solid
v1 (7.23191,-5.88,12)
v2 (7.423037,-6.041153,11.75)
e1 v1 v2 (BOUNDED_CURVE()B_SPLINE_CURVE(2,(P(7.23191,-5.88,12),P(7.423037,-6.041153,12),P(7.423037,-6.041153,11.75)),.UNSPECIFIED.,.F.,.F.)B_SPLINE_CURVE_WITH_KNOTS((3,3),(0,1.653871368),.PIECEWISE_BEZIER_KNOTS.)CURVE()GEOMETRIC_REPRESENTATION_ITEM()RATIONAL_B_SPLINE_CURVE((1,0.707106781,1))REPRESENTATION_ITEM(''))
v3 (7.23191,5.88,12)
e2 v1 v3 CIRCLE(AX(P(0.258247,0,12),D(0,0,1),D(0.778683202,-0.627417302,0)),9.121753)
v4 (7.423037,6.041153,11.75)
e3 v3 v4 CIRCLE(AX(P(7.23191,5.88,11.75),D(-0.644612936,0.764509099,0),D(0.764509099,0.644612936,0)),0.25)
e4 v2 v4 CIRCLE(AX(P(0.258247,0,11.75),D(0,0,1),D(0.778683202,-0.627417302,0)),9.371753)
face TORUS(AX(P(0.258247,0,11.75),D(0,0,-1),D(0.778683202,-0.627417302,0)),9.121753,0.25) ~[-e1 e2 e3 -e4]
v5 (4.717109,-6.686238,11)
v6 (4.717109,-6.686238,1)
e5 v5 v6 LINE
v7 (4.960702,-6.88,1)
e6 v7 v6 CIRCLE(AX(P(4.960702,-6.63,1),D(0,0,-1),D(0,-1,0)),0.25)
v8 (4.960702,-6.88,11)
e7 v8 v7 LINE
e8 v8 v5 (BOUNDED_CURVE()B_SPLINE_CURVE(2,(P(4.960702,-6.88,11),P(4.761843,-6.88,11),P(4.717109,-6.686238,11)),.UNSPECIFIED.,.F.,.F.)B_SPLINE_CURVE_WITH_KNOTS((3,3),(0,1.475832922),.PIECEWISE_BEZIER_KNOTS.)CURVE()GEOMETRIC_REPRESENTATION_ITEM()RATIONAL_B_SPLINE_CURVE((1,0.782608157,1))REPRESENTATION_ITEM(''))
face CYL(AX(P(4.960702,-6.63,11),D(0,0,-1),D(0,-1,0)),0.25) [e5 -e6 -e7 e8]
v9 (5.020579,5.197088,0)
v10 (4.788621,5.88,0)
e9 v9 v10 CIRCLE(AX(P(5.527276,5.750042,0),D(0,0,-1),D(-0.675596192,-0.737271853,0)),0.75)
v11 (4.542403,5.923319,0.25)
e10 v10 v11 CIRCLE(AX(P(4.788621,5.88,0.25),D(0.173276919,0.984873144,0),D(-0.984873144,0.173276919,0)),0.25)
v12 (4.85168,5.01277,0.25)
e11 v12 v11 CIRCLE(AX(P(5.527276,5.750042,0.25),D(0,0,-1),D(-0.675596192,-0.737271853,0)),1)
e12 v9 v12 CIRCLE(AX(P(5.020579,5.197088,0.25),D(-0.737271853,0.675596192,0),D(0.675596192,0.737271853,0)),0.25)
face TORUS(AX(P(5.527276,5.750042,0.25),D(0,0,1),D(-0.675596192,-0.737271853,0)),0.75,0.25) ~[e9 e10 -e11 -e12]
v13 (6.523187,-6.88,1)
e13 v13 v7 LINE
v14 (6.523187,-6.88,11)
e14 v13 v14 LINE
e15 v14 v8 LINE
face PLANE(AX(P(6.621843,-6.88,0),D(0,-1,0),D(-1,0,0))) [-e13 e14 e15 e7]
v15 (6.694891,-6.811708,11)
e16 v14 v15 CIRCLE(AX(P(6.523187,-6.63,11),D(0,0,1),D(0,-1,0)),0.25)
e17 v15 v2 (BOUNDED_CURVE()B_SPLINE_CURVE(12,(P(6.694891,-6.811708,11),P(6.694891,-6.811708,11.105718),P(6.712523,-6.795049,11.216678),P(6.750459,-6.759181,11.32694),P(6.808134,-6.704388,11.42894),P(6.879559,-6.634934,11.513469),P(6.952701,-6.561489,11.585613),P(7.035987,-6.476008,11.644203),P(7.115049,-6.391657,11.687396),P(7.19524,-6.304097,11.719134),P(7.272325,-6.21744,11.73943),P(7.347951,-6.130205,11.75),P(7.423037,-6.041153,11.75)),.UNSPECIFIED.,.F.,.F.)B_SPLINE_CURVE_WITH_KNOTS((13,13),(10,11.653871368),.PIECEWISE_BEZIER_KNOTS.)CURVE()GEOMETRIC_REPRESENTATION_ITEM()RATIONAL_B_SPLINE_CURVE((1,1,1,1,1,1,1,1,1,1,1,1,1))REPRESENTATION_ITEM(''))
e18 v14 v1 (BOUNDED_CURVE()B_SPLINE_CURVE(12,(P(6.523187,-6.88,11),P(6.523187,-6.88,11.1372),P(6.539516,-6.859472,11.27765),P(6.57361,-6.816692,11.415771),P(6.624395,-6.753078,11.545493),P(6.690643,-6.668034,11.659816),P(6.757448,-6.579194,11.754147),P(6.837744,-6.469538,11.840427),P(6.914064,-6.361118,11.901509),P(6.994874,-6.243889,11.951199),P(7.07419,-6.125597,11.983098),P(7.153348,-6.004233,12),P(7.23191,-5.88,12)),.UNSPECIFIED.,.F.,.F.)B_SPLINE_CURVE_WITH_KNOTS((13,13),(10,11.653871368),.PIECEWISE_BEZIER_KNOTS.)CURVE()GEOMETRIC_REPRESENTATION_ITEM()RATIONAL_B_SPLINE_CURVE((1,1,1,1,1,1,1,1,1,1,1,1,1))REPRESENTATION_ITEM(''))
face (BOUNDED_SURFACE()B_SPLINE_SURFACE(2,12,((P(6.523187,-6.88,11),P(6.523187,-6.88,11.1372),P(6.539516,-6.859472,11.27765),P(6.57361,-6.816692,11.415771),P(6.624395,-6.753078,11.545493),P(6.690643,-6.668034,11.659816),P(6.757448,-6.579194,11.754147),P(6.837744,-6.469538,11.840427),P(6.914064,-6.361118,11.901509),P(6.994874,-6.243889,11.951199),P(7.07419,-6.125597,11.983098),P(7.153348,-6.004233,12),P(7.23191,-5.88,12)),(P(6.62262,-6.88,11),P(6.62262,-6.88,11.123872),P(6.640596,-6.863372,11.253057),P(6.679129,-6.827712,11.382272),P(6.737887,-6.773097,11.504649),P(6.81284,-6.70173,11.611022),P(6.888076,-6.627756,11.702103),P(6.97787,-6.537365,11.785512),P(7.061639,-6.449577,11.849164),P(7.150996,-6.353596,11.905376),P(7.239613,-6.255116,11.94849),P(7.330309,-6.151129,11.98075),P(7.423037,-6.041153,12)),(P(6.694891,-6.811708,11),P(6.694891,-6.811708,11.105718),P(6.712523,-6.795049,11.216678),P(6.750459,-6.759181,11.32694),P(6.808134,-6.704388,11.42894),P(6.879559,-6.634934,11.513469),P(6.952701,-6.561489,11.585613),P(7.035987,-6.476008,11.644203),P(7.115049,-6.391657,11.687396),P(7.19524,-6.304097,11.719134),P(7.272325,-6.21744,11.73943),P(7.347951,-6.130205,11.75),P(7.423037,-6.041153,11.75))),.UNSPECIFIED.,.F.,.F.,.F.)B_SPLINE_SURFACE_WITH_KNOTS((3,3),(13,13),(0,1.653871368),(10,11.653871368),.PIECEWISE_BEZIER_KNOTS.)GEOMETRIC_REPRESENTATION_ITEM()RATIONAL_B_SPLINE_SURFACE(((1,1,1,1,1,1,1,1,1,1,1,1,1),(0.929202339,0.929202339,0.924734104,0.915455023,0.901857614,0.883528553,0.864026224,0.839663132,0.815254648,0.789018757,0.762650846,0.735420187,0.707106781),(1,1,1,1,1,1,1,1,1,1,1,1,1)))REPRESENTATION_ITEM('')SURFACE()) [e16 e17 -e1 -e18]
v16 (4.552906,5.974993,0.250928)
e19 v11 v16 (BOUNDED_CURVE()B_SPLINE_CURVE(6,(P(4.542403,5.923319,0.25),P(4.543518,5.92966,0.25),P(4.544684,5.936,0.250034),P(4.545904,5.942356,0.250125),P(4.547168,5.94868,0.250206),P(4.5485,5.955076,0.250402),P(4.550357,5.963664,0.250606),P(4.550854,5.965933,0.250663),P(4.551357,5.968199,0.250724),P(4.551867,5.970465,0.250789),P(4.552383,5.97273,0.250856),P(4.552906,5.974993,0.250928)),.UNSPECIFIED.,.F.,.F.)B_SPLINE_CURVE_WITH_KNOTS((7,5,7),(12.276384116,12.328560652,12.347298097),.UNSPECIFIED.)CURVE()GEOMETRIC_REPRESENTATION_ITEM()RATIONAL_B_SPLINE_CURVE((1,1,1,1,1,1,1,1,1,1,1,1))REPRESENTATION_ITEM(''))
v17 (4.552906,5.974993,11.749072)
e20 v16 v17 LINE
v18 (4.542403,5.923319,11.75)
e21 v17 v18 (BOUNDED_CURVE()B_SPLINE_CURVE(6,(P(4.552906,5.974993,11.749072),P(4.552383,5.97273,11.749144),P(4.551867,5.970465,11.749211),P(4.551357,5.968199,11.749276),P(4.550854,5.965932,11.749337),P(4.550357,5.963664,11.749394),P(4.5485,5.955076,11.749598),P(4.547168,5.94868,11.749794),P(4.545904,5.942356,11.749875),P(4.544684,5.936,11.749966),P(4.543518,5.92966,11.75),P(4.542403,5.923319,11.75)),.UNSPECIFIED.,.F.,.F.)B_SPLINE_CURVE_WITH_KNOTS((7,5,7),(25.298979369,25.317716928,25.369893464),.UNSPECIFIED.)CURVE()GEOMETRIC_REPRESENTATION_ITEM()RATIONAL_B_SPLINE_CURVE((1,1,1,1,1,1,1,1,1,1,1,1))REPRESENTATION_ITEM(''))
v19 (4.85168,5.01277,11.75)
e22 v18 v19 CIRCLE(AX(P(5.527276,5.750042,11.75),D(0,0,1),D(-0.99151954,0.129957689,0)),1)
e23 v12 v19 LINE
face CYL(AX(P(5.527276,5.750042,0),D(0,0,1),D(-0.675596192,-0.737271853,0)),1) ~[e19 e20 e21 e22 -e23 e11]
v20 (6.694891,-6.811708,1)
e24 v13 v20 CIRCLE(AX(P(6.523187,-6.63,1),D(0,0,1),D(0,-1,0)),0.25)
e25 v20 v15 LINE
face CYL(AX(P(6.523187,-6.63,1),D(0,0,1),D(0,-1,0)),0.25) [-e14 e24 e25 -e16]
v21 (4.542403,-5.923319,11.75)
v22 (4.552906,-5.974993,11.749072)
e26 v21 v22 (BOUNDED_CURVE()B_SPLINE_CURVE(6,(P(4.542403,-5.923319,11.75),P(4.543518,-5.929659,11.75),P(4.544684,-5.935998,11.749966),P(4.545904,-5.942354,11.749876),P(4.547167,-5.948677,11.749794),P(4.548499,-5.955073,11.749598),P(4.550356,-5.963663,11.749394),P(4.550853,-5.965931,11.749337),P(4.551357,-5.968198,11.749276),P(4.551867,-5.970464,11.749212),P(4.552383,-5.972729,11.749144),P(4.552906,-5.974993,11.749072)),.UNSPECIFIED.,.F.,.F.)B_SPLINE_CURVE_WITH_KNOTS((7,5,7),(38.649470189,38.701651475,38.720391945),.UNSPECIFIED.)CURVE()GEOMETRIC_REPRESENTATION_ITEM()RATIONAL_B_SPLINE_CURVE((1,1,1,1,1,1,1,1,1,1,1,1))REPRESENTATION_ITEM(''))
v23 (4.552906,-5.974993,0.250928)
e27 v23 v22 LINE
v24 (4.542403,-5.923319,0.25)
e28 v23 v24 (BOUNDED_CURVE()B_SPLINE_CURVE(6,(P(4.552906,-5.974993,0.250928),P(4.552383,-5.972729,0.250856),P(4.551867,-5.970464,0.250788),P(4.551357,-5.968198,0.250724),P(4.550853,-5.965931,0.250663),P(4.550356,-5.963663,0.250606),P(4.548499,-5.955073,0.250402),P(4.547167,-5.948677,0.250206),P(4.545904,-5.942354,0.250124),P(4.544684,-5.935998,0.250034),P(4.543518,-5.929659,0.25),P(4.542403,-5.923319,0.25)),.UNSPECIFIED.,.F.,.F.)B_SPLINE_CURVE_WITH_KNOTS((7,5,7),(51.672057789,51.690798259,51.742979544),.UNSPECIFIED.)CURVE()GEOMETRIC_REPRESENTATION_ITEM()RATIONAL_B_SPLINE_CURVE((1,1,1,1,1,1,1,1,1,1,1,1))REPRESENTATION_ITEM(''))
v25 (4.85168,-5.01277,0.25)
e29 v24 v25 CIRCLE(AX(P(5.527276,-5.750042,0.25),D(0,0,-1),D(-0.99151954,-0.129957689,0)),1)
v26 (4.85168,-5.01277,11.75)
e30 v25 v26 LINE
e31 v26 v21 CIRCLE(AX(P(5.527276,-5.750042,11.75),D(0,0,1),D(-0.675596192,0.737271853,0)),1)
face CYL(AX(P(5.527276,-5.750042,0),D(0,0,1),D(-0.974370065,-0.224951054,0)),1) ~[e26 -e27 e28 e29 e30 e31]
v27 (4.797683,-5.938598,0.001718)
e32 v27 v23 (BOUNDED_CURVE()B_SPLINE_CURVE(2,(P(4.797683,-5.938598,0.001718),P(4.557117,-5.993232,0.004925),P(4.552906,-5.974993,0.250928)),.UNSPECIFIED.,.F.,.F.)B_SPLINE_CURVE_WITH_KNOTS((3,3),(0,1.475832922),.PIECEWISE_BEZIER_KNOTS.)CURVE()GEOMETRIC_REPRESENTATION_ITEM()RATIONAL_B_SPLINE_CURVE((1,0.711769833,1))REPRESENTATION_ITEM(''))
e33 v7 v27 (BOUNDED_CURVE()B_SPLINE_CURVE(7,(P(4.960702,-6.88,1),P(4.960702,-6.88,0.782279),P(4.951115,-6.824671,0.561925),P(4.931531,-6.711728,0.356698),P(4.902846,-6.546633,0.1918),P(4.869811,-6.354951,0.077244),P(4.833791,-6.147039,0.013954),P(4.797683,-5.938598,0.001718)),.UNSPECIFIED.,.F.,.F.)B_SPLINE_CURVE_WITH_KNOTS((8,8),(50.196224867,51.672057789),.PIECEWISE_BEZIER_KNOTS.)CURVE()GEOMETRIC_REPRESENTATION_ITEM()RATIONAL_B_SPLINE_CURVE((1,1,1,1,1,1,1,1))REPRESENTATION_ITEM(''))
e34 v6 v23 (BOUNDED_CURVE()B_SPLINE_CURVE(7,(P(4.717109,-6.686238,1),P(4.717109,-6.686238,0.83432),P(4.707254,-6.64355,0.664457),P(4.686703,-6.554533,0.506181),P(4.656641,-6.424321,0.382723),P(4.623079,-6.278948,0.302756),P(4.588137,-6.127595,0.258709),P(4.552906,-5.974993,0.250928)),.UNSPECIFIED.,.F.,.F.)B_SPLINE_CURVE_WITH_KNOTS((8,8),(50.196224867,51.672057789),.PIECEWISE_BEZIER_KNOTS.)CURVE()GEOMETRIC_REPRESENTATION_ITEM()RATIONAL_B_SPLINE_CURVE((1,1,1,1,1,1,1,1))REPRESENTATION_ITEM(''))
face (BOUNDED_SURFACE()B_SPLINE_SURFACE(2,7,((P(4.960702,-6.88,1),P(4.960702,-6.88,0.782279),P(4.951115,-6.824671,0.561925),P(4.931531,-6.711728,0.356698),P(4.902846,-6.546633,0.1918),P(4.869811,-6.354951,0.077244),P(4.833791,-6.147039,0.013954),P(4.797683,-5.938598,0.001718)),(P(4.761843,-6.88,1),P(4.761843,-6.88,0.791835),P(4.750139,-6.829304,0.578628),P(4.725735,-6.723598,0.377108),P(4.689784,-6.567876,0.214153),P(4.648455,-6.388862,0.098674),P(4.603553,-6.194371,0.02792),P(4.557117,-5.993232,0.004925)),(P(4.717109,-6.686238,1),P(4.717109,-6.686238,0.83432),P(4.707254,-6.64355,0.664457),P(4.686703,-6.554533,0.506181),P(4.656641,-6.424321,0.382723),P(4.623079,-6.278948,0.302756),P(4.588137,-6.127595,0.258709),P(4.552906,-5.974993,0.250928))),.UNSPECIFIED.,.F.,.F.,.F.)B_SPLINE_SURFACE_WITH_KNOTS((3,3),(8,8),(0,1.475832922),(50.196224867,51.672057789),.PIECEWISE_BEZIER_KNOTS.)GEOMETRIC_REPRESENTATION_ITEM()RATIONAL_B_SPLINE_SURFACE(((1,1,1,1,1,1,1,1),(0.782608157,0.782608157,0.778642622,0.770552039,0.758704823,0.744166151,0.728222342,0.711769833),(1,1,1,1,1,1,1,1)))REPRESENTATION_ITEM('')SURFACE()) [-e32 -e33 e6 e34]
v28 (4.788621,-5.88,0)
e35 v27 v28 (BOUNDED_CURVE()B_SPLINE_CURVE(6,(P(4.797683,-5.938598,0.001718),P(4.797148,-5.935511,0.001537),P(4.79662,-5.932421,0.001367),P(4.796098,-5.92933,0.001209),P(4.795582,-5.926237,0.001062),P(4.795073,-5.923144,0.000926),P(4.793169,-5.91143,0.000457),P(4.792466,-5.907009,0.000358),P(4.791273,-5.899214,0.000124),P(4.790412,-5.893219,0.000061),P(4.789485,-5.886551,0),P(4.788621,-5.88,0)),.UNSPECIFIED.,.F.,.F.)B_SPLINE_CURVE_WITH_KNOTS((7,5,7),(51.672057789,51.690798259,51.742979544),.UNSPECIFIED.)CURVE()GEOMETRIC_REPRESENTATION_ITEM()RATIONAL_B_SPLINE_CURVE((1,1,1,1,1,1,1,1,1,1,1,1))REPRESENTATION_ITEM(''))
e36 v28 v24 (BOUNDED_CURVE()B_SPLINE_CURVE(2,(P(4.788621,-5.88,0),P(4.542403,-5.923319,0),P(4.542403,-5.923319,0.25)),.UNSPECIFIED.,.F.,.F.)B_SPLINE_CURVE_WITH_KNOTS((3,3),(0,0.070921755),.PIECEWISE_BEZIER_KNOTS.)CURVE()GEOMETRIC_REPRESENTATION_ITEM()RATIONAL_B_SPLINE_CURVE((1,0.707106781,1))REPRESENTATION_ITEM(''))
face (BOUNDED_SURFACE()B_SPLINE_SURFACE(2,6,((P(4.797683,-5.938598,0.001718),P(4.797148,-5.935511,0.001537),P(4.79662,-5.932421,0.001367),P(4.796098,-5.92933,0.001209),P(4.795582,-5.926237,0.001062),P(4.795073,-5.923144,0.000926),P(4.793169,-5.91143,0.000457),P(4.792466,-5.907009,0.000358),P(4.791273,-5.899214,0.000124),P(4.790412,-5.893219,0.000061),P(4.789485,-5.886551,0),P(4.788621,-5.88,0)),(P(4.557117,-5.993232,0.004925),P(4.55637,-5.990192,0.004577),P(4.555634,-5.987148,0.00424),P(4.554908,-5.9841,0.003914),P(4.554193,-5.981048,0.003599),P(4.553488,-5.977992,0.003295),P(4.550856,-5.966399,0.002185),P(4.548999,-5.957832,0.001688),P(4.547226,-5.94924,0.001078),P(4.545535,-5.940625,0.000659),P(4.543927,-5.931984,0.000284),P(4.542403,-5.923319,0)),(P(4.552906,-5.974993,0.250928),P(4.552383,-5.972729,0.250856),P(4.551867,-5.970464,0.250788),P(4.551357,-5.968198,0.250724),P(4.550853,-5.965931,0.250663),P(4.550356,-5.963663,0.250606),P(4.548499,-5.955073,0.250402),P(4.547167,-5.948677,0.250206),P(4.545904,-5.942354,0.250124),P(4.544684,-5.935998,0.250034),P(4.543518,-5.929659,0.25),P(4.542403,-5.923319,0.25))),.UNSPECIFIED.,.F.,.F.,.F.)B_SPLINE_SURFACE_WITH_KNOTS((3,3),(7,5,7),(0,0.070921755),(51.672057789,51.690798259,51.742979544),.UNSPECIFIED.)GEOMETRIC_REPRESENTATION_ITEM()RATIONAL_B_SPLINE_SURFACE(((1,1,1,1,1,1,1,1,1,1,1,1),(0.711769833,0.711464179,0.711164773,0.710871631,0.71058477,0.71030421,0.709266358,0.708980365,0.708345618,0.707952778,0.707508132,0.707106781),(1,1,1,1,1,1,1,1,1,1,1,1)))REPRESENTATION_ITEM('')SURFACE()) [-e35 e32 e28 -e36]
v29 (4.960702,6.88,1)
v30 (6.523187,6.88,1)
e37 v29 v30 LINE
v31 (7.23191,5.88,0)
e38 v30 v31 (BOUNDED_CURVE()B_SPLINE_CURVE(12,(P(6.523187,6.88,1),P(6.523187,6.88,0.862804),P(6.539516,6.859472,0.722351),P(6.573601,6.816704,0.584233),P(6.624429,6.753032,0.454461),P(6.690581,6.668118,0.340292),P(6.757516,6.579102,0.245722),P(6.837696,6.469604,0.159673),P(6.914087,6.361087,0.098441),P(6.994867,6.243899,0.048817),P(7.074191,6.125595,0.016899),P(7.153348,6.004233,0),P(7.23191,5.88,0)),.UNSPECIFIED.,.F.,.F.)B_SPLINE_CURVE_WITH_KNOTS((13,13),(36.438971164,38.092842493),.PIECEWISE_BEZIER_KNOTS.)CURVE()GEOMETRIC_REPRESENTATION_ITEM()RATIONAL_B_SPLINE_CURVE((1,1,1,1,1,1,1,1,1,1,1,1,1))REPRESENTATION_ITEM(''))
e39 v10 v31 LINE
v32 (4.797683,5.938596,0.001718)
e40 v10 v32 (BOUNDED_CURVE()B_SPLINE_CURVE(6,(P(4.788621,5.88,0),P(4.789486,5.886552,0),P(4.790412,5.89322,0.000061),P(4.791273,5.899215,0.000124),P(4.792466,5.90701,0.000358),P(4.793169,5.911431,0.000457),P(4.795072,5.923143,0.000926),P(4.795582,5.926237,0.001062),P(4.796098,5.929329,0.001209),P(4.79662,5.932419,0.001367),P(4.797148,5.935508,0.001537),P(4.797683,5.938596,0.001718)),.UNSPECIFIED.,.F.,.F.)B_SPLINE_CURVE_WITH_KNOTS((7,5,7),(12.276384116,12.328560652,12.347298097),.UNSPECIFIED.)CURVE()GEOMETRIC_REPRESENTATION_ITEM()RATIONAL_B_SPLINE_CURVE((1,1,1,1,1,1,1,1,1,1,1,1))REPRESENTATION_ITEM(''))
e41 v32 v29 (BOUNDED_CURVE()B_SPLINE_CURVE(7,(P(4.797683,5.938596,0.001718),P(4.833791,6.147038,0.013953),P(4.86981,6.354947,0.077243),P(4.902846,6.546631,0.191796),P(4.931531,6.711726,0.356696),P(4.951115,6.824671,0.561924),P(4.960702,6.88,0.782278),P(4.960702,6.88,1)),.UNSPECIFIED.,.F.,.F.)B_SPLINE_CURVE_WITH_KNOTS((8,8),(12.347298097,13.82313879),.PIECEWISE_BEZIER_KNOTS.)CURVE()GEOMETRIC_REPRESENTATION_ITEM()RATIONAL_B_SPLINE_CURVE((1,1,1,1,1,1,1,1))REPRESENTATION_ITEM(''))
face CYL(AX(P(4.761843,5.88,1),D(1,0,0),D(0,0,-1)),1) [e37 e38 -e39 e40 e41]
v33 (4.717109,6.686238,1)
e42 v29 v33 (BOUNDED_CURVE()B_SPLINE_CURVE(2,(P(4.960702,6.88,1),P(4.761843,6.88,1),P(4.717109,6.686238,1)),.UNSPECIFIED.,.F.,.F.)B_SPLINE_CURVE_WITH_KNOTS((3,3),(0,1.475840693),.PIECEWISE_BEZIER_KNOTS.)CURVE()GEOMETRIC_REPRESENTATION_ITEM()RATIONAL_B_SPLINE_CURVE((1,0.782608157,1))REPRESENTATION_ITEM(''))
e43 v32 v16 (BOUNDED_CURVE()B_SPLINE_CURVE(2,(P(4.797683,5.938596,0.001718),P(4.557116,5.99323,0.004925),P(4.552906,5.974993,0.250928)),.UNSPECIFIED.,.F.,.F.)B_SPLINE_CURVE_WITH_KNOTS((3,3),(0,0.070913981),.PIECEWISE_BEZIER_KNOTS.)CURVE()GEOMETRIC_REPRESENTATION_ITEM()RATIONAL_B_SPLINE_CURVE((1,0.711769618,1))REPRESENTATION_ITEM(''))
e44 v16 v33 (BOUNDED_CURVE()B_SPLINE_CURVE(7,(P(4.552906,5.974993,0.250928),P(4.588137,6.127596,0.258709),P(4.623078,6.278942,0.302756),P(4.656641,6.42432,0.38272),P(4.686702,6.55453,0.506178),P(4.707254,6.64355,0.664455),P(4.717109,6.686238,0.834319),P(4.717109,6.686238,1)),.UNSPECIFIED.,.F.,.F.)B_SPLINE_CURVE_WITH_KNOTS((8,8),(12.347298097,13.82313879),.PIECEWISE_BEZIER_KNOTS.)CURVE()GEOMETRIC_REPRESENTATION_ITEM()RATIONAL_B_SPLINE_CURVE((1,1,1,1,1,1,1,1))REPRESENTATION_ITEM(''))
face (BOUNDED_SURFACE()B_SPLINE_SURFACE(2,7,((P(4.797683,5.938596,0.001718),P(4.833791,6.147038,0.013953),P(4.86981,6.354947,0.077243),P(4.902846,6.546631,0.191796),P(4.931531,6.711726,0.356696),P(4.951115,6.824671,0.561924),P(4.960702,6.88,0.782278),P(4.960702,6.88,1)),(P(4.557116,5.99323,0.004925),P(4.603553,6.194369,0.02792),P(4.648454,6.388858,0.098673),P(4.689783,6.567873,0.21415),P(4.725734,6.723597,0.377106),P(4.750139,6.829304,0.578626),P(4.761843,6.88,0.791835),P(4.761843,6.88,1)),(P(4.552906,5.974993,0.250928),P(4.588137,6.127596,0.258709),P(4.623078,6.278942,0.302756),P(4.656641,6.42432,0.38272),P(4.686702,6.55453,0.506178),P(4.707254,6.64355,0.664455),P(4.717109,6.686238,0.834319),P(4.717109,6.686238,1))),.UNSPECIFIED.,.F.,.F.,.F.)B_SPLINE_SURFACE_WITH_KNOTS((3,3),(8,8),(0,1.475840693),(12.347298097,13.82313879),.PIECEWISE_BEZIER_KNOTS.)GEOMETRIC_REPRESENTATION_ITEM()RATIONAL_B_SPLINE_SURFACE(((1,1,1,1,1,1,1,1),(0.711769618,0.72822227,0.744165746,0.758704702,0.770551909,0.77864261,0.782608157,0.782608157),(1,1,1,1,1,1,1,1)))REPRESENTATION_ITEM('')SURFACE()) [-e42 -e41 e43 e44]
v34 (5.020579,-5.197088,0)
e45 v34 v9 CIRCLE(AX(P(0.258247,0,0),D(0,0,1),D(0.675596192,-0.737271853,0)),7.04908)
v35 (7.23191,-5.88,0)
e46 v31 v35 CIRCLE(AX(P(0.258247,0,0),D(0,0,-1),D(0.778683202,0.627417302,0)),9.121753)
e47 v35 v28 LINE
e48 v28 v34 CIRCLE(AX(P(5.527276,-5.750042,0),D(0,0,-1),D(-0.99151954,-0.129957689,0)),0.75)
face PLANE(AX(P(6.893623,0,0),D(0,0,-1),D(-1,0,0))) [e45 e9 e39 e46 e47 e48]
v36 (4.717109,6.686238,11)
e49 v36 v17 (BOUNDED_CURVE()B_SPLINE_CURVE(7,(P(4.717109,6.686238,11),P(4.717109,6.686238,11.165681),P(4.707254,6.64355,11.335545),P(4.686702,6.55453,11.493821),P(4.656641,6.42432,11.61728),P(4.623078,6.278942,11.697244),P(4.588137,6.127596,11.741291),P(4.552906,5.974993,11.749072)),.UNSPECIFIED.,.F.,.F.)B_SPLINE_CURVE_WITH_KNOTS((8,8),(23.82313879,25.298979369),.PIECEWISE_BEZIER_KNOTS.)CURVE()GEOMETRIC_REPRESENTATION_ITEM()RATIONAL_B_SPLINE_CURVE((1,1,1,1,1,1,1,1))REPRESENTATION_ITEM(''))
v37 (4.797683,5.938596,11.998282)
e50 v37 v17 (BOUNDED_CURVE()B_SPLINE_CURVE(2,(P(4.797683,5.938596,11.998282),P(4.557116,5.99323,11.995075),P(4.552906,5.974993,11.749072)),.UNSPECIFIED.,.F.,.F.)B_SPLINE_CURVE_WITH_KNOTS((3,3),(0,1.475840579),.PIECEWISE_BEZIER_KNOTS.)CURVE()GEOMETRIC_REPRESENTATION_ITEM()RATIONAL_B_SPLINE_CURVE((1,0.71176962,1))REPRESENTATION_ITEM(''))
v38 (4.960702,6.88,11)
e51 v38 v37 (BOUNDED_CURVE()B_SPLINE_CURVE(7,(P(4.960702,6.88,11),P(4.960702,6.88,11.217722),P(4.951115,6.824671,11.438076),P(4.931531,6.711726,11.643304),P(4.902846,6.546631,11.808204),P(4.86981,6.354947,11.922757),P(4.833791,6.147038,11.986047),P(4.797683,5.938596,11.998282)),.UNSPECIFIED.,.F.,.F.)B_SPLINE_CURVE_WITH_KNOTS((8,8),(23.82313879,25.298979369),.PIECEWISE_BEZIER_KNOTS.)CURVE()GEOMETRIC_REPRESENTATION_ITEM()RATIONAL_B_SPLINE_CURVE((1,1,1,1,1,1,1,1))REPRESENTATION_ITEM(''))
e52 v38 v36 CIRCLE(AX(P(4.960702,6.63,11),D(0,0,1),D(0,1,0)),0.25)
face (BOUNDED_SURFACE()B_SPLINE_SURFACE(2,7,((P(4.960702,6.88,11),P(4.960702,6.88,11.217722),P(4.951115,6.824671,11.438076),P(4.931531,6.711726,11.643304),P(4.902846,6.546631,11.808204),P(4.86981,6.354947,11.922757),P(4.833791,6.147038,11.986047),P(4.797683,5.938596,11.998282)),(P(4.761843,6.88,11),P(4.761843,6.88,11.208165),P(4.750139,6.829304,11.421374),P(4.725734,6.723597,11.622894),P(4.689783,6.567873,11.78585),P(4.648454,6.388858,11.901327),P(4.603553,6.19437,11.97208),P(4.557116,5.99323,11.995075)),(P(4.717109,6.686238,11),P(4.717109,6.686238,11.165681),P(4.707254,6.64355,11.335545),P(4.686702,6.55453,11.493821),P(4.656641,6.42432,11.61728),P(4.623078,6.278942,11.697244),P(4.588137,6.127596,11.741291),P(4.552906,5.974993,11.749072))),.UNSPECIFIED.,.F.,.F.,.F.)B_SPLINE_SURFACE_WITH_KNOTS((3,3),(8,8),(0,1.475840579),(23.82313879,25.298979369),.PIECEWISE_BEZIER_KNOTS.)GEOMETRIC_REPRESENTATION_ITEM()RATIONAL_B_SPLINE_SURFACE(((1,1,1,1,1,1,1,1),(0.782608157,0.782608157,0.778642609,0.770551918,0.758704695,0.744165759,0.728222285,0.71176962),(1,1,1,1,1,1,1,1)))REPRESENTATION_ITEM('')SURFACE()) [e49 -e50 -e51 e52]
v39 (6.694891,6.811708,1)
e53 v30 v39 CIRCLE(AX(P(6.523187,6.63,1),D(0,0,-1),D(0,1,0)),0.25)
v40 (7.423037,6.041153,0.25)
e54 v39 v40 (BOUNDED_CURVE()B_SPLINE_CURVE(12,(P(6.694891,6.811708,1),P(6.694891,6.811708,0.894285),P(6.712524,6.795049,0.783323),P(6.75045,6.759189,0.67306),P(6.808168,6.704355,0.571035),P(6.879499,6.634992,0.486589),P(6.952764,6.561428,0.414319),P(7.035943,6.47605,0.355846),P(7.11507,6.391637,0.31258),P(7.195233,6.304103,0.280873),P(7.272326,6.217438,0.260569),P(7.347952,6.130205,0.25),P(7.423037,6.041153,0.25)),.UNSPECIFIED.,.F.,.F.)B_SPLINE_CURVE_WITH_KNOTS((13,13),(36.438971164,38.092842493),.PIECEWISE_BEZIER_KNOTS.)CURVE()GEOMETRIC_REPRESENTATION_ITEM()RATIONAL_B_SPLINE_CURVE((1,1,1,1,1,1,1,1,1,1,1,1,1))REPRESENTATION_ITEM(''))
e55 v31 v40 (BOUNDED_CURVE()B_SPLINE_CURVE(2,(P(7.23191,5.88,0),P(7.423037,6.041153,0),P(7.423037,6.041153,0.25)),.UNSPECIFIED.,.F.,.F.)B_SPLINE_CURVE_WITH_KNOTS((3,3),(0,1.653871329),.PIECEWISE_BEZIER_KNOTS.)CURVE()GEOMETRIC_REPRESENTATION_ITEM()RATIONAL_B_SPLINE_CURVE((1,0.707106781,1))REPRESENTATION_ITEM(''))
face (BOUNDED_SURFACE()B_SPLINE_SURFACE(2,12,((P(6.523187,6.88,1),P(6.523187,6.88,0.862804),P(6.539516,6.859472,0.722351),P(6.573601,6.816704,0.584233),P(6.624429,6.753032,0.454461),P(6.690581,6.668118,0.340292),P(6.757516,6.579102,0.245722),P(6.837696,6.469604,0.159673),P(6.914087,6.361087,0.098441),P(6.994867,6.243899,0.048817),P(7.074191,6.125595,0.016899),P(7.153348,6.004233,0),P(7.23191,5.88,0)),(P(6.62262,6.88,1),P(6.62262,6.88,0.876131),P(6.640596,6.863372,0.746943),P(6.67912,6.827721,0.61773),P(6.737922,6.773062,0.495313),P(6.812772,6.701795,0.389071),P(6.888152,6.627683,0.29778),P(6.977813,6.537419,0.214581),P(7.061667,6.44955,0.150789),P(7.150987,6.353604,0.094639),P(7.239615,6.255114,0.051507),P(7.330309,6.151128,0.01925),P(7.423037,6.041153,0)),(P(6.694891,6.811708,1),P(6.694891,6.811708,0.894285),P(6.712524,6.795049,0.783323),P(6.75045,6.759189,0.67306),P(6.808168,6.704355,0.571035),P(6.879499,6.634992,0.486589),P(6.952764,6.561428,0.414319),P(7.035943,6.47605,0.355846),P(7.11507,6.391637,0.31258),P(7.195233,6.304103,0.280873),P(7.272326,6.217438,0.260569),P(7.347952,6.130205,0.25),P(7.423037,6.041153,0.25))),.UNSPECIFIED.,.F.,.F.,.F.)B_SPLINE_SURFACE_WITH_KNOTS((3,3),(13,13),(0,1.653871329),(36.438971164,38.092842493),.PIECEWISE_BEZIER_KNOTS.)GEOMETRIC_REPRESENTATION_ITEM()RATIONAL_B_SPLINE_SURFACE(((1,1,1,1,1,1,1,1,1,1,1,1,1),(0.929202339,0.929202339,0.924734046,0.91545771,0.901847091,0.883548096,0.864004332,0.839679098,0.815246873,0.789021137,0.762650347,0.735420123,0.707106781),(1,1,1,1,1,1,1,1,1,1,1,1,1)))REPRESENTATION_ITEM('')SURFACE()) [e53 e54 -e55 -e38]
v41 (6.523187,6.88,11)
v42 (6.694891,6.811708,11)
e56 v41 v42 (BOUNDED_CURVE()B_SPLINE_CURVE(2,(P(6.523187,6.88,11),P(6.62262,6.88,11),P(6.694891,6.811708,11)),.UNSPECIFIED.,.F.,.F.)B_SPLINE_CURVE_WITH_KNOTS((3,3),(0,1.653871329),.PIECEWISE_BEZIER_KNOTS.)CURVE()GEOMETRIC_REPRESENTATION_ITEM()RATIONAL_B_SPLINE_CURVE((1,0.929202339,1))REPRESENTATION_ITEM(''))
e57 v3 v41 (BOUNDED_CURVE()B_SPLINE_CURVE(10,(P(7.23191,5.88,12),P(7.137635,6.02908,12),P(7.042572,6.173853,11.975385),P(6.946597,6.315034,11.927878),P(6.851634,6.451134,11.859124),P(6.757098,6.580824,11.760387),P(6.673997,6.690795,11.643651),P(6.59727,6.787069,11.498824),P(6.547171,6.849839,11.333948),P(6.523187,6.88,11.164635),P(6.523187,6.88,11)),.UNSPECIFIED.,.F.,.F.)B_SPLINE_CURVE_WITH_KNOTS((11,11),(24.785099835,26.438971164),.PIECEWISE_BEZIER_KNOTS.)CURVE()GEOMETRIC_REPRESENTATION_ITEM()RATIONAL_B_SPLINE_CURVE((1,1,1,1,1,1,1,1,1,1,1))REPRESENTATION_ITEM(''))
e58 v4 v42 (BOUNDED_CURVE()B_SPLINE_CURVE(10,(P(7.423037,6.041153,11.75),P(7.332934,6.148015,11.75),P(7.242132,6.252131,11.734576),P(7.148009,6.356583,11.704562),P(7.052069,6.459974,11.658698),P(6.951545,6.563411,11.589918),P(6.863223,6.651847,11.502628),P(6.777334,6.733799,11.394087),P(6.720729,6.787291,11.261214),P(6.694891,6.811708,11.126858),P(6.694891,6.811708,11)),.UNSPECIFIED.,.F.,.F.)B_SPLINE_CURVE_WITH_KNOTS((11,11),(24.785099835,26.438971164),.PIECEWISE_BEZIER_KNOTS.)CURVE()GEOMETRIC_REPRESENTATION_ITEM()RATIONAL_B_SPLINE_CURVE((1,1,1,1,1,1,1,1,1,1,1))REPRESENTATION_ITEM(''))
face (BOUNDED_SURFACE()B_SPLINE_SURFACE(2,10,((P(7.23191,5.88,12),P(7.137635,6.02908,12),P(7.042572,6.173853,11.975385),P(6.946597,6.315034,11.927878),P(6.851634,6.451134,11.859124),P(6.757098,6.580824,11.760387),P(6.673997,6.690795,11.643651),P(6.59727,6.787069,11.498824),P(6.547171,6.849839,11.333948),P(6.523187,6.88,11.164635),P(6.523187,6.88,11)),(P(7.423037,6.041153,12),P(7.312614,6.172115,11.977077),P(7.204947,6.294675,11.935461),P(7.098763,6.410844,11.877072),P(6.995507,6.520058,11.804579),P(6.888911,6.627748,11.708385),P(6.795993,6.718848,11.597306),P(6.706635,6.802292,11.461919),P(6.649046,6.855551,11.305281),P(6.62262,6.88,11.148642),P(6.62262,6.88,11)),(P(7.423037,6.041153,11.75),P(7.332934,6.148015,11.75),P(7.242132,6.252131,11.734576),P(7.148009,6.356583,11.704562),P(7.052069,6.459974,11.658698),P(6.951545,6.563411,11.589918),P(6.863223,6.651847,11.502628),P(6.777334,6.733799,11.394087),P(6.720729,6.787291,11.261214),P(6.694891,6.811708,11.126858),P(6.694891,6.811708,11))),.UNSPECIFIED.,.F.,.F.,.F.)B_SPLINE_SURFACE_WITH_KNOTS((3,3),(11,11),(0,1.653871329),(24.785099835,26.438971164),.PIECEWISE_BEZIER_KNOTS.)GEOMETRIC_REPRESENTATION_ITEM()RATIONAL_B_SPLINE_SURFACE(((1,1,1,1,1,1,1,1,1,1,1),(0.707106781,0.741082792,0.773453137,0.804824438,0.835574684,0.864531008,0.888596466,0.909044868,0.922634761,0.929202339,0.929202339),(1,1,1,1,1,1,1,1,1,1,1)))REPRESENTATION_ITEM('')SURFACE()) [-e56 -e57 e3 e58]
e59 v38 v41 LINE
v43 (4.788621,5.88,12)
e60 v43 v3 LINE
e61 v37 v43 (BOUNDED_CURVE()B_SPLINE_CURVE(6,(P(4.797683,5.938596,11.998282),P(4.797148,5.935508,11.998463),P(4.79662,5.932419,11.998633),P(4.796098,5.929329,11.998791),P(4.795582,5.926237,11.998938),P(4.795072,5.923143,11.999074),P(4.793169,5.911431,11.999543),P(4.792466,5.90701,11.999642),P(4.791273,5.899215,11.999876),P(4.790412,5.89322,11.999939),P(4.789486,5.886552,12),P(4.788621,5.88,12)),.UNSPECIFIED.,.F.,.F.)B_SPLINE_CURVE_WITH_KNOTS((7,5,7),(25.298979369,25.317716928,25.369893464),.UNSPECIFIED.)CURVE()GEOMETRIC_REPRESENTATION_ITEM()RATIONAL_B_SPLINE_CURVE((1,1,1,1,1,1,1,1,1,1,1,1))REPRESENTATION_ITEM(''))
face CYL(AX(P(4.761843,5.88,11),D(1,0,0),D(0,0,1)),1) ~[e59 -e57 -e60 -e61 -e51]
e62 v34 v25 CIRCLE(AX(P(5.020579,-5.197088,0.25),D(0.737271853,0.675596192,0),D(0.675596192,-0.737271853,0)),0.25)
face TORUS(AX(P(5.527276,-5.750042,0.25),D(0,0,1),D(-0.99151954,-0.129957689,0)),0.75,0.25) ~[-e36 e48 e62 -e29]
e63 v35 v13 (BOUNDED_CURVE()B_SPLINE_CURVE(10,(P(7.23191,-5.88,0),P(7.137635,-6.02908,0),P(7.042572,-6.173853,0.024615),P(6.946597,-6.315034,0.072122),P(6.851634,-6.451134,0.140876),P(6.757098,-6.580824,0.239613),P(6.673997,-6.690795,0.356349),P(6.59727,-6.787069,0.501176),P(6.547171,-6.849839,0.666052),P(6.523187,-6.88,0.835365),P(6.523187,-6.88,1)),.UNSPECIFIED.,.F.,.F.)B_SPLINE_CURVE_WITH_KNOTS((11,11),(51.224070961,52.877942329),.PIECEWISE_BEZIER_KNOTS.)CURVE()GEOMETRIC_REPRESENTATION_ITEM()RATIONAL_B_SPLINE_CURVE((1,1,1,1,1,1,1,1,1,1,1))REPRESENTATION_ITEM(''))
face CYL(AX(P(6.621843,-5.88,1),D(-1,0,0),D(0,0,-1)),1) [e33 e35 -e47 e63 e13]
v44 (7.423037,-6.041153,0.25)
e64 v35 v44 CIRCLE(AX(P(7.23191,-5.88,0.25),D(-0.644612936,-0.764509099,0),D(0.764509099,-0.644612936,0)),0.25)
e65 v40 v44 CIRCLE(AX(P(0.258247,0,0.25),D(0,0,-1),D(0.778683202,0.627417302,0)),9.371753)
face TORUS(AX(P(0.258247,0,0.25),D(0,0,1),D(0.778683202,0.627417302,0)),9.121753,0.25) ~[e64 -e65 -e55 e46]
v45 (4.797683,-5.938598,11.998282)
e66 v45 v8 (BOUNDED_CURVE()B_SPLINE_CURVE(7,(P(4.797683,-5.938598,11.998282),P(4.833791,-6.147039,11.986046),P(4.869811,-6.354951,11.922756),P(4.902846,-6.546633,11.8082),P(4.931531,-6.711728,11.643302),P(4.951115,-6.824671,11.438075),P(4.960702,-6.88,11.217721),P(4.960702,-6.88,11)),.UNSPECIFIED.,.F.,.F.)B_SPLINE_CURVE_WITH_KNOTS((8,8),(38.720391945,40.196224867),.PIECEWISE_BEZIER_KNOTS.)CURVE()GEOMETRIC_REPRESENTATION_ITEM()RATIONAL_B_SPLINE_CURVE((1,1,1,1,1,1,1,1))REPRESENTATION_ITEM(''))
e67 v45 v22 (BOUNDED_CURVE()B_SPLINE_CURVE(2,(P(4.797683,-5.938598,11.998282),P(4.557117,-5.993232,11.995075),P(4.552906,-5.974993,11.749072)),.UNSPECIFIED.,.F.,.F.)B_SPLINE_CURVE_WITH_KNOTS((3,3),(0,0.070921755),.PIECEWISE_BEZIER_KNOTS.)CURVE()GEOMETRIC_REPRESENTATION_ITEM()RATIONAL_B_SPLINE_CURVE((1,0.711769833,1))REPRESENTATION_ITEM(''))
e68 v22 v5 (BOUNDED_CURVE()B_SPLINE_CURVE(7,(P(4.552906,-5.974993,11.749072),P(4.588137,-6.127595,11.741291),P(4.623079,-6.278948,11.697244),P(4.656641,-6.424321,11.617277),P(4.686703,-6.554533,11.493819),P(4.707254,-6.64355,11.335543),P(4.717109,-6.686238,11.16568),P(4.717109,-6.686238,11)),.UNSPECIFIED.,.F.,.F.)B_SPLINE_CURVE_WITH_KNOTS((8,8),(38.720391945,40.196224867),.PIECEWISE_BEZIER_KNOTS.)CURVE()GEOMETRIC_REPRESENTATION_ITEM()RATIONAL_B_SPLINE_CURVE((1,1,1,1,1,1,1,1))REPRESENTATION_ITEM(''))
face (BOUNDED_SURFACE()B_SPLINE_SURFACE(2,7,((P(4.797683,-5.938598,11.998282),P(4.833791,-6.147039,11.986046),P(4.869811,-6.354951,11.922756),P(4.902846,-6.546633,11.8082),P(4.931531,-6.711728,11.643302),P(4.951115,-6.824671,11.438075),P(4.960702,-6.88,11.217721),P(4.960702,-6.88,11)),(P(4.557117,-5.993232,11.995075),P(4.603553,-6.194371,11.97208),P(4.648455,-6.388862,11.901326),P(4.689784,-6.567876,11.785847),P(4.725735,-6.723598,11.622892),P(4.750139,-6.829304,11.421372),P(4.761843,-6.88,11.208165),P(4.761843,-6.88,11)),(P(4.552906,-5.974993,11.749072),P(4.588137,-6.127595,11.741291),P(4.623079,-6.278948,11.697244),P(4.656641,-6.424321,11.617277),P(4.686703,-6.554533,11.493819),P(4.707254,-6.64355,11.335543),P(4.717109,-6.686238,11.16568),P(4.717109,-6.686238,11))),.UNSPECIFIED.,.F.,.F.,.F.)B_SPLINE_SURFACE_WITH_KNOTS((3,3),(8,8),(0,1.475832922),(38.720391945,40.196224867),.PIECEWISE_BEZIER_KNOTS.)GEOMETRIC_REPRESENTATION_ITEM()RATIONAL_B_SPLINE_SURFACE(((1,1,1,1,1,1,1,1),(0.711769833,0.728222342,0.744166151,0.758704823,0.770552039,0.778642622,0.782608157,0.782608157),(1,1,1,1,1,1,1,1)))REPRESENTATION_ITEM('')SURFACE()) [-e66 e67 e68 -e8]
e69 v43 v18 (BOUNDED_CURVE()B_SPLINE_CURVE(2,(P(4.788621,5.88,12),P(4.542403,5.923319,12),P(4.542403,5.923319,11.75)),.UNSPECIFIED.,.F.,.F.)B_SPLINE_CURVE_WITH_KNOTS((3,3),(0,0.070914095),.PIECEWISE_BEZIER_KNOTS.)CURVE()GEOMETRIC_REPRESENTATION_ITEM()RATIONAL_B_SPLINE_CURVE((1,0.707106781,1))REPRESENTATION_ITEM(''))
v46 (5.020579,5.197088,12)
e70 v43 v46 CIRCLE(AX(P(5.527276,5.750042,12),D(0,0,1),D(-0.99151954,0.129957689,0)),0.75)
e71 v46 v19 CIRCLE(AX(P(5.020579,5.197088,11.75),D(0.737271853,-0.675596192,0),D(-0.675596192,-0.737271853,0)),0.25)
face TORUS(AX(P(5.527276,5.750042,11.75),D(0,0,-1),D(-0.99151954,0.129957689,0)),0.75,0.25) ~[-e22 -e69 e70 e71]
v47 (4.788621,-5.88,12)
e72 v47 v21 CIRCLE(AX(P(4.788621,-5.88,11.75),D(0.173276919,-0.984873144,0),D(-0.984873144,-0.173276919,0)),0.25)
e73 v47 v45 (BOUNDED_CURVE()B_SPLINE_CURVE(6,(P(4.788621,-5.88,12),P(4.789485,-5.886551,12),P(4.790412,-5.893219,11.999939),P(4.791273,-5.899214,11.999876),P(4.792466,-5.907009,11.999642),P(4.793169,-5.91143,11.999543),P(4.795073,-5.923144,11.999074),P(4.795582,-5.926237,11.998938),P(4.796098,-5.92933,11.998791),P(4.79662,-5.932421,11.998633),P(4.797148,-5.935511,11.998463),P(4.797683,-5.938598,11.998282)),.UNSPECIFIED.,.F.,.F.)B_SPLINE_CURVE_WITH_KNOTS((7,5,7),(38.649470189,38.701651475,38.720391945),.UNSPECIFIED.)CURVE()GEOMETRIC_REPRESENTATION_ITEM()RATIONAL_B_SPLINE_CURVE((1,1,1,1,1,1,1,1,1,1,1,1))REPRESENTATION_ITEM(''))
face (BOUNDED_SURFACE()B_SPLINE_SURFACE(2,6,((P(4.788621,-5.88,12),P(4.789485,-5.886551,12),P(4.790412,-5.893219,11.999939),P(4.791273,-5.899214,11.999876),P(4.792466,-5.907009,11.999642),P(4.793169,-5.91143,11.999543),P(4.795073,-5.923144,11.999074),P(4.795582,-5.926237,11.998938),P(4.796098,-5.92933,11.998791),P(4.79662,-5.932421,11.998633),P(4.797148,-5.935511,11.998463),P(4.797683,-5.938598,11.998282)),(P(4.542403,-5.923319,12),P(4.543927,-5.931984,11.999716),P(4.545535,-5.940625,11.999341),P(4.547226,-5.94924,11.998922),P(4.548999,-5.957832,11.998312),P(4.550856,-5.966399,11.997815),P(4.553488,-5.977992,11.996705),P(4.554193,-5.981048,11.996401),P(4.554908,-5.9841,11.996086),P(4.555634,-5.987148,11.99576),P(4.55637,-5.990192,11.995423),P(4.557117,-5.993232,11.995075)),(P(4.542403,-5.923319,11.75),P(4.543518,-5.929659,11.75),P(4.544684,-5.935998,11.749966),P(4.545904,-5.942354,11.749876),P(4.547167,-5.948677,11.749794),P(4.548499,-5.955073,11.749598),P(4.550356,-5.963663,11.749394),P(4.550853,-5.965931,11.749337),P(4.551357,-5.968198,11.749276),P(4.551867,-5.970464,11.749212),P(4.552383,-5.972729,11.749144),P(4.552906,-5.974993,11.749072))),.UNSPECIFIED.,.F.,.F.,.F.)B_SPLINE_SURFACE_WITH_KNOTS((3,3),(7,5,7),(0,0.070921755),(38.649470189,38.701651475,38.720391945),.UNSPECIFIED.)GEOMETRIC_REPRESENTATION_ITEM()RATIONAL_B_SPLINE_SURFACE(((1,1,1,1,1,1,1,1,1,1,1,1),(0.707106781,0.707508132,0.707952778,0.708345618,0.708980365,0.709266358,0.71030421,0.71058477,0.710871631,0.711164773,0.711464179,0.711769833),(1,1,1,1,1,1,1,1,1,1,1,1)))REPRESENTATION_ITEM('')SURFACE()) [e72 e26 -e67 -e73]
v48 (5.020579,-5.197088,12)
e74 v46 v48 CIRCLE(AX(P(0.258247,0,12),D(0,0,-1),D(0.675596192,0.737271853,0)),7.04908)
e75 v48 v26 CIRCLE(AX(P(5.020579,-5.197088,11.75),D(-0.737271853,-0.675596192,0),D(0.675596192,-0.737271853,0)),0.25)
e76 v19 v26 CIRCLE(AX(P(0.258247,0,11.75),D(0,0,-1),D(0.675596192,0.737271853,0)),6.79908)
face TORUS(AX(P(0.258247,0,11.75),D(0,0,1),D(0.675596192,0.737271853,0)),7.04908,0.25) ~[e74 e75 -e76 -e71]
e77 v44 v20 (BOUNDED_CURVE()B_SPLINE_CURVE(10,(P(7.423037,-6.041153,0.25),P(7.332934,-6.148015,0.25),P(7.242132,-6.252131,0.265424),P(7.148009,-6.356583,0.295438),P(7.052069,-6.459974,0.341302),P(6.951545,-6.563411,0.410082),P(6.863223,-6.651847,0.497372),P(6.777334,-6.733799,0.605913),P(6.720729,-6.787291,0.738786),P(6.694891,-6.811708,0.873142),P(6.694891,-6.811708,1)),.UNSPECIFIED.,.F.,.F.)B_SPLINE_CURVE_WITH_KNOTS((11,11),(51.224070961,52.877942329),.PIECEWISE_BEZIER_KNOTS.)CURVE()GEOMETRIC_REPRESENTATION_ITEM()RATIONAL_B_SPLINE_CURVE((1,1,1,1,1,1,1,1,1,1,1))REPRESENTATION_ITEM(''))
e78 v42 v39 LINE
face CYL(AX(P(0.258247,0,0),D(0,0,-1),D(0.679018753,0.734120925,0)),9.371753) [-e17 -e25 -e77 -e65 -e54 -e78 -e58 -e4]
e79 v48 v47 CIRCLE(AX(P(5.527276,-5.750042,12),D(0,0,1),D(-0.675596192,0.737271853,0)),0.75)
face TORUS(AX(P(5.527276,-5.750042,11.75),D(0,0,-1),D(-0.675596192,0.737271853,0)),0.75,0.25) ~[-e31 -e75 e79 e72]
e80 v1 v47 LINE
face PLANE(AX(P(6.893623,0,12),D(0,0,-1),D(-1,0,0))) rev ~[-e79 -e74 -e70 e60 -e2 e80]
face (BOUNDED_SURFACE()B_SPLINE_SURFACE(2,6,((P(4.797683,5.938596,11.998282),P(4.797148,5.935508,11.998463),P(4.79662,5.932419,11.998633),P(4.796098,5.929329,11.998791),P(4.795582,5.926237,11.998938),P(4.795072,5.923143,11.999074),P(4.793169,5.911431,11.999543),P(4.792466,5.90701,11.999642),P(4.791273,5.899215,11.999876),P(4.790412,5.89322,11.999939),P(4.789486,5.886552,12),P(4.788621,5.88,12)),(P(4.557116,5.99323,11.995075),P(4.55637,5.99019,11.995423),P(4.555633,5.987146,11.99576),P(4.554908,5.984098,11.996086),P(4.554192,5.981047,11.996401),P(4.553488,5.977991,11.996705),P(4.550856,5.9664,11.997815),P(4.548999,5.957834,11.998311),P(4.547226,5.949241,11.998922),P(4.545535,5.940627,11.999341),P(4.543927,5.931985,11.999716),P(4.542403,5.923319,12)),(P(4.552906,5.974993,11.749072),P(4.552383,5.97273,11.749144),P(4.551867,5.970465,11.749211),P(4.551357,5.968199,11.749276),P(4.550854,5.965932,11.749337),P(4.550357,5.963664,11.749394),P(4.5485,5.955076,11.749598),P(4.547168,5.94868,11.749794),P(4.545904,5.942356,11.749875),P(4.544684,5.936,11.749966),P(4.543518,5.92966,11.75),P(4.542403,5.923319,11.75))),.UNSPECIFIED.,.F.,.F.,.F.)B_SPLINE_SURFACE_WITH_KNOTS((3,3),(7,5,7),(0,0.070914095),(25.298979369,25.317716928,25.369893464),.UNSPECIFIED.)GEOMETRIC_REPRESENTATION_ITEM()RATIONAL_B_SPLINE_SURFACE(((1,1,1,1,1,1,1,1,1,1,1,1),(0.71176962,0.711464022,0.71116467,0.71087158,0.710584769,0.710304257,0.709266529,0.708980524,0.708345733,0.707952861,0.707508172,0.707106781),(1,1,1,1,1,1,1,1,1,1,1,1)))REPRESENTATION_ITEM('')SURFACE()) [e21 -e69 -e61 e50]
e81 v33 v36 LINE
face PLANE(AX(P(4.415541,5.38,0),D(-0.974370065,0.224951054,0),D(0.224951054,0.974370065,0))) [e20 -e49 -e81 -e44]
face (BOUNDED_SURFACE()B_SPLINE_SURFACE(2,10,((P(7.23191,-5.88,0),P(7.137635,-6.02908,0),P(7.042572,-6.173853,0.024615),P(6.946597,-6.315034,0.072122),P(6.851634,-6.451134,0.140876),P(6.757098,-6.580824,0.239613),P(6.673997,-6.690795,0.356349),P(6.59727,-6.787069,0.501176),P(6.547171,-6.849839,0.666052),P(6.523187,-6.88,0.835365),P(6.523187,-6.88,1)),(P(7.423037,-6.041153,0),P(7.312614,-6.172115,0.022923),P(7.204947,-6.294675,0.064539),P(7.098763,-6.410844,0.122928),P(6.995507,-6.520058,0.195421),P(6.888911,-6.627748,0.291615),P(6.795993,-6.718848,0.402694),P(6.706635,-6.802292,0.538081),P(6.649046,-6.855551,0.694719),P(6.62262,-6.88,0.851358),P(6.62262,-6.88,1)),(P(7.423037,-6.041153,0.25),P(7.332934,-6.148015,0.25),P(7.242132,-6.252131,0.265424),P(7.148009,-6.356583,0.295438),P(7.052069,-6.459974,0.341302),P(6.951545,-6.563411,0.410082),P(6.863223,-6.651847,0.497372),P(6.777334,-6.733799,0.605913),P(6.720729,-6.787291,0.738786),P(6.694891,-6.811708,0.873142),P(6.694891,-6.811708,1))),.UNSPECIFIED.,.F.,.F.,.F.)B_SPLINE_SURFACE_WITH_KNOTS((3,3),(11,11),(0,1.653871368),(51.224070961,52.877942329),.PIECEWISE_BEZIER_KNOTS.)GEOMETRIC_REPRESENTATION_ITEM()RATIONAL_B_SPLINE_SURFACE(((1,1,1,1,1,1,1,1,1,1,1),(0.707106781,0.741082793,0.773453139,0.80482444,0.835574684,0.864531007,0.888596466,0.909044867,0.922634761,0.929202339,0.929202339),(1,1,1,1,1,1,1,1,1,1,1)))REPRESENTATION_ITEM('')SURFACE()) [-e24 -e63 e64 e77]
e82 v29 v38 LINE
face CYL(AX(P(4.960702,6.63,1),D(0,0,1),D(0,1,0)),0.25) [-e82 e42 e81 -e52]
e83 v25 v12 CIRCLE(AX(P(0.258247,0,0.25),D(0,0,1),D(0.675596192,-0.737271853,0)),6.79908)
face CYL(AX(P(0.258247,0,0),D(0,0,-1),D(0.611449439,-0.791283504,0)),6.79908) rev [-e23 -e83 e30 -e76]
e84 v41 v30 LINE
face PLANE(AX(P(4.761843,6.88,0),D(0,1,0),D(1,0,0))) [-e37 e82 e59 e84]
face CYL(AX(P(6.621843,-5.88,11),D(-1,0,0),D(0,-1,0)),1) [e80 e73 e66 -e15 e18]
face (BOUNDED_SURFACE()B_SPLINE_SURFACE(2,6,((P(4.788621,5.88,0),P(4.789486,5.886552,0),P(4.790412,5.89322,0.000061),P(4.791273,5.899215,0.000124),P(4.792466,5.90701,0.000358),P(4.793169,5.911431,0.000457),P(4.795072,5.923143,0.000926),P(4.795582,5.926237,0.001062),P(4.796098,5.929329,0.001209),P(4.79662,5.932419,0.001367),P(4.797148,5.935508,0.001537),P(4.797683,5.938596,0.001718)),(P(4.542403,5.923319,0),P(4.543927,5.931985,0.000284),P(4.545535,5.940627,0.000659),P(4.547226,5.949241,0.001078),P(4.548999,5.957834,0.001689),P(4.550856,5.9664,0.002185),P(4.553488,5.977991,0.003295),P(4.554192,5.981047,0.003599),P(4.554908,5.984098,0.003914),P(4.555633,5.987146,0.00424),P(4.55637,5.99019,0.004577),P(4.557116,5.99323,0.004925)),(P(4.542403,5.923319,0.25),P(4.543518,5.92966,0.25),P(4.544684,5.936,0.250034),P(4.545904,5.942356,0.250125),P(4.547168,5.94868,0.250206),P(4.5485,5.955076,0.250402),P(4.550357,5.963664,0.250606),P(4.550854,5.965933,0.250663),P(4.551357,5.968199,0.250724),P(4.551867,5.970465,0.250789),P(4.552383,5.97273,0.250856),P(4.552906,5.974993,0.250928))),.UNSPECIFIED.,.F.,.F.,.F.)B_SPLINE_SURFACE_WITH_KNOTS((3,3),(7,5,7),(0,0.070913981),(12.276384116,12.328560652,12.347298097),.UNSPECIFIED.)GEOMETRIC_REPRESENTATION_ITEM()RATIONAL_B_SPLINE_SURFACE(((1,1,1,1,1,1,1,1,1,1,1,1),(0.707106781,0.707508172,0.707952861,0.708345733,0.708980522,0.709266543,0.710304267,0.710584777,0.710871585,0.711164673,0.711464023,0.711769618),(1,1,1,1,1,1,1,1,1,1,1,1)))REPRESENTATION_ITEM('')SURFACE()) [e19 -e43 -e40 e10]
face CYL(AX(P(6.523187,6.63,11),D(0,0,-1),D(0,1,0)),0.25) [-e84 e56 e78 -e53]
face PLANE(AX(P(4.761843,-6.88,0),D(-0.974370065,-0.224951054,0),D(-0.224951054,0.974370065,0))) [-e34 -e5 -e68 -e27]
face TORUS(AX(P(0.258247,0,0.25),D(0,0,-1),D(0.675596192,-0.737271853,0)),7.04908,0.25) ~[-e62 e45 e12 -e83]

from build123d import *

# Parameters (mm, degrees)
BOSS_EXTRUDE1_DEPTH = 12
FILLET1_R           = 1
FILLET2_R           = 1
FILLET3_R           = 0.25


with BuildPart() as part:
    # Sketch1 → Boss-Extrude1 (new body)
    with BuildSketch(Plane.XY):
        with BuildLine():
            Line((6.621843031, -6.88), (4.761843031, -6.88))
            Line((4.761843031, -6.88), (4.415540745, -5.38))
            ThreePointArc((4.415540745, -5.38), (7.057327169, 0), (4.415540745, 5.38))
            Line((4.415540745, 5.38), (4.761843031, 6.88))
            Line((4.761843031, 6.88), (6.621843031, 6.88))
            ThreePointArc((6.621843031, 6.88), (9.63, 0), (6.621843031, -6.88))
        make_face()
    extrude(amount=BOSS_EXTRUDE1_DEPTH)

    # Fillet1
    fillet1_edges = [part.edges().sort_by_distance(p)[0] for p in [
        (4.415540745, -5.38, 6),
        (4.415540745, 5.38, 6),
    ]]
    fillet(fillet1_edges, radius=FILLET1_R)

    # Fillet2
    fillet2_edges = [part.edges().sort_by_distance(p)[0] for p in [
        (5.691843031, -6.88, 0),
        (5.691843031, -6.88, 12),
        (5.691843031, 6.88, 0),
        (5.691843031, 6.88, 12),
    ]]
    fillet(fillet2_edges, radius=FILLET2_R)

    # Fillet3
    fillet3_edges = [part.edges().sort_by_distance(p)[0] for p in [
        (7.057327169, 0, 0),
        (4.587679935, 5.407756591, 0),
        (7.057327169, 0, 12),
        (4.587679935, -5.407756591, 12),
        (6.621843031, -6.88, 6),
        (4.761843031, -6.88, 6),
        (9.63, 0, 0),
        (6.621843031, 6.88, 6),
        (9.63, 0, 12),
        (6.96895036, 6.541881603, 11.749608404),
        (6.96895036, 6.541881603, 0.250391596),
        (6.968950362, -6.541881601, 11.749608406),
        (6.968950361, -6.541881601, 0.250391595),
        (4.587679935, -5.407756591, 0),
        (4.543193477, -5.927755229, 11.998859068),
        (4.543193477, -5.927755229, 0.001140932),
        (4.700888568, -6.615977213, 11.677006308),
        (4.700888568, -6.615977213, 0.322993692),
        (4.587679935, 5.407756591, 12),
        (4.761843031, 6.88, 6),
        (4.700888568, 6.615977213, 11.677006308),
        (4.700888568, 6.615977213, 0.322993692),
        (4.543193495, 5.927755224, 11.998859044),
        (4.543193495, 5.927755224, 0.001140956),
    ]]
    fillet(fillet3_edges, radius=FILLET3_R)


solid = part.part
